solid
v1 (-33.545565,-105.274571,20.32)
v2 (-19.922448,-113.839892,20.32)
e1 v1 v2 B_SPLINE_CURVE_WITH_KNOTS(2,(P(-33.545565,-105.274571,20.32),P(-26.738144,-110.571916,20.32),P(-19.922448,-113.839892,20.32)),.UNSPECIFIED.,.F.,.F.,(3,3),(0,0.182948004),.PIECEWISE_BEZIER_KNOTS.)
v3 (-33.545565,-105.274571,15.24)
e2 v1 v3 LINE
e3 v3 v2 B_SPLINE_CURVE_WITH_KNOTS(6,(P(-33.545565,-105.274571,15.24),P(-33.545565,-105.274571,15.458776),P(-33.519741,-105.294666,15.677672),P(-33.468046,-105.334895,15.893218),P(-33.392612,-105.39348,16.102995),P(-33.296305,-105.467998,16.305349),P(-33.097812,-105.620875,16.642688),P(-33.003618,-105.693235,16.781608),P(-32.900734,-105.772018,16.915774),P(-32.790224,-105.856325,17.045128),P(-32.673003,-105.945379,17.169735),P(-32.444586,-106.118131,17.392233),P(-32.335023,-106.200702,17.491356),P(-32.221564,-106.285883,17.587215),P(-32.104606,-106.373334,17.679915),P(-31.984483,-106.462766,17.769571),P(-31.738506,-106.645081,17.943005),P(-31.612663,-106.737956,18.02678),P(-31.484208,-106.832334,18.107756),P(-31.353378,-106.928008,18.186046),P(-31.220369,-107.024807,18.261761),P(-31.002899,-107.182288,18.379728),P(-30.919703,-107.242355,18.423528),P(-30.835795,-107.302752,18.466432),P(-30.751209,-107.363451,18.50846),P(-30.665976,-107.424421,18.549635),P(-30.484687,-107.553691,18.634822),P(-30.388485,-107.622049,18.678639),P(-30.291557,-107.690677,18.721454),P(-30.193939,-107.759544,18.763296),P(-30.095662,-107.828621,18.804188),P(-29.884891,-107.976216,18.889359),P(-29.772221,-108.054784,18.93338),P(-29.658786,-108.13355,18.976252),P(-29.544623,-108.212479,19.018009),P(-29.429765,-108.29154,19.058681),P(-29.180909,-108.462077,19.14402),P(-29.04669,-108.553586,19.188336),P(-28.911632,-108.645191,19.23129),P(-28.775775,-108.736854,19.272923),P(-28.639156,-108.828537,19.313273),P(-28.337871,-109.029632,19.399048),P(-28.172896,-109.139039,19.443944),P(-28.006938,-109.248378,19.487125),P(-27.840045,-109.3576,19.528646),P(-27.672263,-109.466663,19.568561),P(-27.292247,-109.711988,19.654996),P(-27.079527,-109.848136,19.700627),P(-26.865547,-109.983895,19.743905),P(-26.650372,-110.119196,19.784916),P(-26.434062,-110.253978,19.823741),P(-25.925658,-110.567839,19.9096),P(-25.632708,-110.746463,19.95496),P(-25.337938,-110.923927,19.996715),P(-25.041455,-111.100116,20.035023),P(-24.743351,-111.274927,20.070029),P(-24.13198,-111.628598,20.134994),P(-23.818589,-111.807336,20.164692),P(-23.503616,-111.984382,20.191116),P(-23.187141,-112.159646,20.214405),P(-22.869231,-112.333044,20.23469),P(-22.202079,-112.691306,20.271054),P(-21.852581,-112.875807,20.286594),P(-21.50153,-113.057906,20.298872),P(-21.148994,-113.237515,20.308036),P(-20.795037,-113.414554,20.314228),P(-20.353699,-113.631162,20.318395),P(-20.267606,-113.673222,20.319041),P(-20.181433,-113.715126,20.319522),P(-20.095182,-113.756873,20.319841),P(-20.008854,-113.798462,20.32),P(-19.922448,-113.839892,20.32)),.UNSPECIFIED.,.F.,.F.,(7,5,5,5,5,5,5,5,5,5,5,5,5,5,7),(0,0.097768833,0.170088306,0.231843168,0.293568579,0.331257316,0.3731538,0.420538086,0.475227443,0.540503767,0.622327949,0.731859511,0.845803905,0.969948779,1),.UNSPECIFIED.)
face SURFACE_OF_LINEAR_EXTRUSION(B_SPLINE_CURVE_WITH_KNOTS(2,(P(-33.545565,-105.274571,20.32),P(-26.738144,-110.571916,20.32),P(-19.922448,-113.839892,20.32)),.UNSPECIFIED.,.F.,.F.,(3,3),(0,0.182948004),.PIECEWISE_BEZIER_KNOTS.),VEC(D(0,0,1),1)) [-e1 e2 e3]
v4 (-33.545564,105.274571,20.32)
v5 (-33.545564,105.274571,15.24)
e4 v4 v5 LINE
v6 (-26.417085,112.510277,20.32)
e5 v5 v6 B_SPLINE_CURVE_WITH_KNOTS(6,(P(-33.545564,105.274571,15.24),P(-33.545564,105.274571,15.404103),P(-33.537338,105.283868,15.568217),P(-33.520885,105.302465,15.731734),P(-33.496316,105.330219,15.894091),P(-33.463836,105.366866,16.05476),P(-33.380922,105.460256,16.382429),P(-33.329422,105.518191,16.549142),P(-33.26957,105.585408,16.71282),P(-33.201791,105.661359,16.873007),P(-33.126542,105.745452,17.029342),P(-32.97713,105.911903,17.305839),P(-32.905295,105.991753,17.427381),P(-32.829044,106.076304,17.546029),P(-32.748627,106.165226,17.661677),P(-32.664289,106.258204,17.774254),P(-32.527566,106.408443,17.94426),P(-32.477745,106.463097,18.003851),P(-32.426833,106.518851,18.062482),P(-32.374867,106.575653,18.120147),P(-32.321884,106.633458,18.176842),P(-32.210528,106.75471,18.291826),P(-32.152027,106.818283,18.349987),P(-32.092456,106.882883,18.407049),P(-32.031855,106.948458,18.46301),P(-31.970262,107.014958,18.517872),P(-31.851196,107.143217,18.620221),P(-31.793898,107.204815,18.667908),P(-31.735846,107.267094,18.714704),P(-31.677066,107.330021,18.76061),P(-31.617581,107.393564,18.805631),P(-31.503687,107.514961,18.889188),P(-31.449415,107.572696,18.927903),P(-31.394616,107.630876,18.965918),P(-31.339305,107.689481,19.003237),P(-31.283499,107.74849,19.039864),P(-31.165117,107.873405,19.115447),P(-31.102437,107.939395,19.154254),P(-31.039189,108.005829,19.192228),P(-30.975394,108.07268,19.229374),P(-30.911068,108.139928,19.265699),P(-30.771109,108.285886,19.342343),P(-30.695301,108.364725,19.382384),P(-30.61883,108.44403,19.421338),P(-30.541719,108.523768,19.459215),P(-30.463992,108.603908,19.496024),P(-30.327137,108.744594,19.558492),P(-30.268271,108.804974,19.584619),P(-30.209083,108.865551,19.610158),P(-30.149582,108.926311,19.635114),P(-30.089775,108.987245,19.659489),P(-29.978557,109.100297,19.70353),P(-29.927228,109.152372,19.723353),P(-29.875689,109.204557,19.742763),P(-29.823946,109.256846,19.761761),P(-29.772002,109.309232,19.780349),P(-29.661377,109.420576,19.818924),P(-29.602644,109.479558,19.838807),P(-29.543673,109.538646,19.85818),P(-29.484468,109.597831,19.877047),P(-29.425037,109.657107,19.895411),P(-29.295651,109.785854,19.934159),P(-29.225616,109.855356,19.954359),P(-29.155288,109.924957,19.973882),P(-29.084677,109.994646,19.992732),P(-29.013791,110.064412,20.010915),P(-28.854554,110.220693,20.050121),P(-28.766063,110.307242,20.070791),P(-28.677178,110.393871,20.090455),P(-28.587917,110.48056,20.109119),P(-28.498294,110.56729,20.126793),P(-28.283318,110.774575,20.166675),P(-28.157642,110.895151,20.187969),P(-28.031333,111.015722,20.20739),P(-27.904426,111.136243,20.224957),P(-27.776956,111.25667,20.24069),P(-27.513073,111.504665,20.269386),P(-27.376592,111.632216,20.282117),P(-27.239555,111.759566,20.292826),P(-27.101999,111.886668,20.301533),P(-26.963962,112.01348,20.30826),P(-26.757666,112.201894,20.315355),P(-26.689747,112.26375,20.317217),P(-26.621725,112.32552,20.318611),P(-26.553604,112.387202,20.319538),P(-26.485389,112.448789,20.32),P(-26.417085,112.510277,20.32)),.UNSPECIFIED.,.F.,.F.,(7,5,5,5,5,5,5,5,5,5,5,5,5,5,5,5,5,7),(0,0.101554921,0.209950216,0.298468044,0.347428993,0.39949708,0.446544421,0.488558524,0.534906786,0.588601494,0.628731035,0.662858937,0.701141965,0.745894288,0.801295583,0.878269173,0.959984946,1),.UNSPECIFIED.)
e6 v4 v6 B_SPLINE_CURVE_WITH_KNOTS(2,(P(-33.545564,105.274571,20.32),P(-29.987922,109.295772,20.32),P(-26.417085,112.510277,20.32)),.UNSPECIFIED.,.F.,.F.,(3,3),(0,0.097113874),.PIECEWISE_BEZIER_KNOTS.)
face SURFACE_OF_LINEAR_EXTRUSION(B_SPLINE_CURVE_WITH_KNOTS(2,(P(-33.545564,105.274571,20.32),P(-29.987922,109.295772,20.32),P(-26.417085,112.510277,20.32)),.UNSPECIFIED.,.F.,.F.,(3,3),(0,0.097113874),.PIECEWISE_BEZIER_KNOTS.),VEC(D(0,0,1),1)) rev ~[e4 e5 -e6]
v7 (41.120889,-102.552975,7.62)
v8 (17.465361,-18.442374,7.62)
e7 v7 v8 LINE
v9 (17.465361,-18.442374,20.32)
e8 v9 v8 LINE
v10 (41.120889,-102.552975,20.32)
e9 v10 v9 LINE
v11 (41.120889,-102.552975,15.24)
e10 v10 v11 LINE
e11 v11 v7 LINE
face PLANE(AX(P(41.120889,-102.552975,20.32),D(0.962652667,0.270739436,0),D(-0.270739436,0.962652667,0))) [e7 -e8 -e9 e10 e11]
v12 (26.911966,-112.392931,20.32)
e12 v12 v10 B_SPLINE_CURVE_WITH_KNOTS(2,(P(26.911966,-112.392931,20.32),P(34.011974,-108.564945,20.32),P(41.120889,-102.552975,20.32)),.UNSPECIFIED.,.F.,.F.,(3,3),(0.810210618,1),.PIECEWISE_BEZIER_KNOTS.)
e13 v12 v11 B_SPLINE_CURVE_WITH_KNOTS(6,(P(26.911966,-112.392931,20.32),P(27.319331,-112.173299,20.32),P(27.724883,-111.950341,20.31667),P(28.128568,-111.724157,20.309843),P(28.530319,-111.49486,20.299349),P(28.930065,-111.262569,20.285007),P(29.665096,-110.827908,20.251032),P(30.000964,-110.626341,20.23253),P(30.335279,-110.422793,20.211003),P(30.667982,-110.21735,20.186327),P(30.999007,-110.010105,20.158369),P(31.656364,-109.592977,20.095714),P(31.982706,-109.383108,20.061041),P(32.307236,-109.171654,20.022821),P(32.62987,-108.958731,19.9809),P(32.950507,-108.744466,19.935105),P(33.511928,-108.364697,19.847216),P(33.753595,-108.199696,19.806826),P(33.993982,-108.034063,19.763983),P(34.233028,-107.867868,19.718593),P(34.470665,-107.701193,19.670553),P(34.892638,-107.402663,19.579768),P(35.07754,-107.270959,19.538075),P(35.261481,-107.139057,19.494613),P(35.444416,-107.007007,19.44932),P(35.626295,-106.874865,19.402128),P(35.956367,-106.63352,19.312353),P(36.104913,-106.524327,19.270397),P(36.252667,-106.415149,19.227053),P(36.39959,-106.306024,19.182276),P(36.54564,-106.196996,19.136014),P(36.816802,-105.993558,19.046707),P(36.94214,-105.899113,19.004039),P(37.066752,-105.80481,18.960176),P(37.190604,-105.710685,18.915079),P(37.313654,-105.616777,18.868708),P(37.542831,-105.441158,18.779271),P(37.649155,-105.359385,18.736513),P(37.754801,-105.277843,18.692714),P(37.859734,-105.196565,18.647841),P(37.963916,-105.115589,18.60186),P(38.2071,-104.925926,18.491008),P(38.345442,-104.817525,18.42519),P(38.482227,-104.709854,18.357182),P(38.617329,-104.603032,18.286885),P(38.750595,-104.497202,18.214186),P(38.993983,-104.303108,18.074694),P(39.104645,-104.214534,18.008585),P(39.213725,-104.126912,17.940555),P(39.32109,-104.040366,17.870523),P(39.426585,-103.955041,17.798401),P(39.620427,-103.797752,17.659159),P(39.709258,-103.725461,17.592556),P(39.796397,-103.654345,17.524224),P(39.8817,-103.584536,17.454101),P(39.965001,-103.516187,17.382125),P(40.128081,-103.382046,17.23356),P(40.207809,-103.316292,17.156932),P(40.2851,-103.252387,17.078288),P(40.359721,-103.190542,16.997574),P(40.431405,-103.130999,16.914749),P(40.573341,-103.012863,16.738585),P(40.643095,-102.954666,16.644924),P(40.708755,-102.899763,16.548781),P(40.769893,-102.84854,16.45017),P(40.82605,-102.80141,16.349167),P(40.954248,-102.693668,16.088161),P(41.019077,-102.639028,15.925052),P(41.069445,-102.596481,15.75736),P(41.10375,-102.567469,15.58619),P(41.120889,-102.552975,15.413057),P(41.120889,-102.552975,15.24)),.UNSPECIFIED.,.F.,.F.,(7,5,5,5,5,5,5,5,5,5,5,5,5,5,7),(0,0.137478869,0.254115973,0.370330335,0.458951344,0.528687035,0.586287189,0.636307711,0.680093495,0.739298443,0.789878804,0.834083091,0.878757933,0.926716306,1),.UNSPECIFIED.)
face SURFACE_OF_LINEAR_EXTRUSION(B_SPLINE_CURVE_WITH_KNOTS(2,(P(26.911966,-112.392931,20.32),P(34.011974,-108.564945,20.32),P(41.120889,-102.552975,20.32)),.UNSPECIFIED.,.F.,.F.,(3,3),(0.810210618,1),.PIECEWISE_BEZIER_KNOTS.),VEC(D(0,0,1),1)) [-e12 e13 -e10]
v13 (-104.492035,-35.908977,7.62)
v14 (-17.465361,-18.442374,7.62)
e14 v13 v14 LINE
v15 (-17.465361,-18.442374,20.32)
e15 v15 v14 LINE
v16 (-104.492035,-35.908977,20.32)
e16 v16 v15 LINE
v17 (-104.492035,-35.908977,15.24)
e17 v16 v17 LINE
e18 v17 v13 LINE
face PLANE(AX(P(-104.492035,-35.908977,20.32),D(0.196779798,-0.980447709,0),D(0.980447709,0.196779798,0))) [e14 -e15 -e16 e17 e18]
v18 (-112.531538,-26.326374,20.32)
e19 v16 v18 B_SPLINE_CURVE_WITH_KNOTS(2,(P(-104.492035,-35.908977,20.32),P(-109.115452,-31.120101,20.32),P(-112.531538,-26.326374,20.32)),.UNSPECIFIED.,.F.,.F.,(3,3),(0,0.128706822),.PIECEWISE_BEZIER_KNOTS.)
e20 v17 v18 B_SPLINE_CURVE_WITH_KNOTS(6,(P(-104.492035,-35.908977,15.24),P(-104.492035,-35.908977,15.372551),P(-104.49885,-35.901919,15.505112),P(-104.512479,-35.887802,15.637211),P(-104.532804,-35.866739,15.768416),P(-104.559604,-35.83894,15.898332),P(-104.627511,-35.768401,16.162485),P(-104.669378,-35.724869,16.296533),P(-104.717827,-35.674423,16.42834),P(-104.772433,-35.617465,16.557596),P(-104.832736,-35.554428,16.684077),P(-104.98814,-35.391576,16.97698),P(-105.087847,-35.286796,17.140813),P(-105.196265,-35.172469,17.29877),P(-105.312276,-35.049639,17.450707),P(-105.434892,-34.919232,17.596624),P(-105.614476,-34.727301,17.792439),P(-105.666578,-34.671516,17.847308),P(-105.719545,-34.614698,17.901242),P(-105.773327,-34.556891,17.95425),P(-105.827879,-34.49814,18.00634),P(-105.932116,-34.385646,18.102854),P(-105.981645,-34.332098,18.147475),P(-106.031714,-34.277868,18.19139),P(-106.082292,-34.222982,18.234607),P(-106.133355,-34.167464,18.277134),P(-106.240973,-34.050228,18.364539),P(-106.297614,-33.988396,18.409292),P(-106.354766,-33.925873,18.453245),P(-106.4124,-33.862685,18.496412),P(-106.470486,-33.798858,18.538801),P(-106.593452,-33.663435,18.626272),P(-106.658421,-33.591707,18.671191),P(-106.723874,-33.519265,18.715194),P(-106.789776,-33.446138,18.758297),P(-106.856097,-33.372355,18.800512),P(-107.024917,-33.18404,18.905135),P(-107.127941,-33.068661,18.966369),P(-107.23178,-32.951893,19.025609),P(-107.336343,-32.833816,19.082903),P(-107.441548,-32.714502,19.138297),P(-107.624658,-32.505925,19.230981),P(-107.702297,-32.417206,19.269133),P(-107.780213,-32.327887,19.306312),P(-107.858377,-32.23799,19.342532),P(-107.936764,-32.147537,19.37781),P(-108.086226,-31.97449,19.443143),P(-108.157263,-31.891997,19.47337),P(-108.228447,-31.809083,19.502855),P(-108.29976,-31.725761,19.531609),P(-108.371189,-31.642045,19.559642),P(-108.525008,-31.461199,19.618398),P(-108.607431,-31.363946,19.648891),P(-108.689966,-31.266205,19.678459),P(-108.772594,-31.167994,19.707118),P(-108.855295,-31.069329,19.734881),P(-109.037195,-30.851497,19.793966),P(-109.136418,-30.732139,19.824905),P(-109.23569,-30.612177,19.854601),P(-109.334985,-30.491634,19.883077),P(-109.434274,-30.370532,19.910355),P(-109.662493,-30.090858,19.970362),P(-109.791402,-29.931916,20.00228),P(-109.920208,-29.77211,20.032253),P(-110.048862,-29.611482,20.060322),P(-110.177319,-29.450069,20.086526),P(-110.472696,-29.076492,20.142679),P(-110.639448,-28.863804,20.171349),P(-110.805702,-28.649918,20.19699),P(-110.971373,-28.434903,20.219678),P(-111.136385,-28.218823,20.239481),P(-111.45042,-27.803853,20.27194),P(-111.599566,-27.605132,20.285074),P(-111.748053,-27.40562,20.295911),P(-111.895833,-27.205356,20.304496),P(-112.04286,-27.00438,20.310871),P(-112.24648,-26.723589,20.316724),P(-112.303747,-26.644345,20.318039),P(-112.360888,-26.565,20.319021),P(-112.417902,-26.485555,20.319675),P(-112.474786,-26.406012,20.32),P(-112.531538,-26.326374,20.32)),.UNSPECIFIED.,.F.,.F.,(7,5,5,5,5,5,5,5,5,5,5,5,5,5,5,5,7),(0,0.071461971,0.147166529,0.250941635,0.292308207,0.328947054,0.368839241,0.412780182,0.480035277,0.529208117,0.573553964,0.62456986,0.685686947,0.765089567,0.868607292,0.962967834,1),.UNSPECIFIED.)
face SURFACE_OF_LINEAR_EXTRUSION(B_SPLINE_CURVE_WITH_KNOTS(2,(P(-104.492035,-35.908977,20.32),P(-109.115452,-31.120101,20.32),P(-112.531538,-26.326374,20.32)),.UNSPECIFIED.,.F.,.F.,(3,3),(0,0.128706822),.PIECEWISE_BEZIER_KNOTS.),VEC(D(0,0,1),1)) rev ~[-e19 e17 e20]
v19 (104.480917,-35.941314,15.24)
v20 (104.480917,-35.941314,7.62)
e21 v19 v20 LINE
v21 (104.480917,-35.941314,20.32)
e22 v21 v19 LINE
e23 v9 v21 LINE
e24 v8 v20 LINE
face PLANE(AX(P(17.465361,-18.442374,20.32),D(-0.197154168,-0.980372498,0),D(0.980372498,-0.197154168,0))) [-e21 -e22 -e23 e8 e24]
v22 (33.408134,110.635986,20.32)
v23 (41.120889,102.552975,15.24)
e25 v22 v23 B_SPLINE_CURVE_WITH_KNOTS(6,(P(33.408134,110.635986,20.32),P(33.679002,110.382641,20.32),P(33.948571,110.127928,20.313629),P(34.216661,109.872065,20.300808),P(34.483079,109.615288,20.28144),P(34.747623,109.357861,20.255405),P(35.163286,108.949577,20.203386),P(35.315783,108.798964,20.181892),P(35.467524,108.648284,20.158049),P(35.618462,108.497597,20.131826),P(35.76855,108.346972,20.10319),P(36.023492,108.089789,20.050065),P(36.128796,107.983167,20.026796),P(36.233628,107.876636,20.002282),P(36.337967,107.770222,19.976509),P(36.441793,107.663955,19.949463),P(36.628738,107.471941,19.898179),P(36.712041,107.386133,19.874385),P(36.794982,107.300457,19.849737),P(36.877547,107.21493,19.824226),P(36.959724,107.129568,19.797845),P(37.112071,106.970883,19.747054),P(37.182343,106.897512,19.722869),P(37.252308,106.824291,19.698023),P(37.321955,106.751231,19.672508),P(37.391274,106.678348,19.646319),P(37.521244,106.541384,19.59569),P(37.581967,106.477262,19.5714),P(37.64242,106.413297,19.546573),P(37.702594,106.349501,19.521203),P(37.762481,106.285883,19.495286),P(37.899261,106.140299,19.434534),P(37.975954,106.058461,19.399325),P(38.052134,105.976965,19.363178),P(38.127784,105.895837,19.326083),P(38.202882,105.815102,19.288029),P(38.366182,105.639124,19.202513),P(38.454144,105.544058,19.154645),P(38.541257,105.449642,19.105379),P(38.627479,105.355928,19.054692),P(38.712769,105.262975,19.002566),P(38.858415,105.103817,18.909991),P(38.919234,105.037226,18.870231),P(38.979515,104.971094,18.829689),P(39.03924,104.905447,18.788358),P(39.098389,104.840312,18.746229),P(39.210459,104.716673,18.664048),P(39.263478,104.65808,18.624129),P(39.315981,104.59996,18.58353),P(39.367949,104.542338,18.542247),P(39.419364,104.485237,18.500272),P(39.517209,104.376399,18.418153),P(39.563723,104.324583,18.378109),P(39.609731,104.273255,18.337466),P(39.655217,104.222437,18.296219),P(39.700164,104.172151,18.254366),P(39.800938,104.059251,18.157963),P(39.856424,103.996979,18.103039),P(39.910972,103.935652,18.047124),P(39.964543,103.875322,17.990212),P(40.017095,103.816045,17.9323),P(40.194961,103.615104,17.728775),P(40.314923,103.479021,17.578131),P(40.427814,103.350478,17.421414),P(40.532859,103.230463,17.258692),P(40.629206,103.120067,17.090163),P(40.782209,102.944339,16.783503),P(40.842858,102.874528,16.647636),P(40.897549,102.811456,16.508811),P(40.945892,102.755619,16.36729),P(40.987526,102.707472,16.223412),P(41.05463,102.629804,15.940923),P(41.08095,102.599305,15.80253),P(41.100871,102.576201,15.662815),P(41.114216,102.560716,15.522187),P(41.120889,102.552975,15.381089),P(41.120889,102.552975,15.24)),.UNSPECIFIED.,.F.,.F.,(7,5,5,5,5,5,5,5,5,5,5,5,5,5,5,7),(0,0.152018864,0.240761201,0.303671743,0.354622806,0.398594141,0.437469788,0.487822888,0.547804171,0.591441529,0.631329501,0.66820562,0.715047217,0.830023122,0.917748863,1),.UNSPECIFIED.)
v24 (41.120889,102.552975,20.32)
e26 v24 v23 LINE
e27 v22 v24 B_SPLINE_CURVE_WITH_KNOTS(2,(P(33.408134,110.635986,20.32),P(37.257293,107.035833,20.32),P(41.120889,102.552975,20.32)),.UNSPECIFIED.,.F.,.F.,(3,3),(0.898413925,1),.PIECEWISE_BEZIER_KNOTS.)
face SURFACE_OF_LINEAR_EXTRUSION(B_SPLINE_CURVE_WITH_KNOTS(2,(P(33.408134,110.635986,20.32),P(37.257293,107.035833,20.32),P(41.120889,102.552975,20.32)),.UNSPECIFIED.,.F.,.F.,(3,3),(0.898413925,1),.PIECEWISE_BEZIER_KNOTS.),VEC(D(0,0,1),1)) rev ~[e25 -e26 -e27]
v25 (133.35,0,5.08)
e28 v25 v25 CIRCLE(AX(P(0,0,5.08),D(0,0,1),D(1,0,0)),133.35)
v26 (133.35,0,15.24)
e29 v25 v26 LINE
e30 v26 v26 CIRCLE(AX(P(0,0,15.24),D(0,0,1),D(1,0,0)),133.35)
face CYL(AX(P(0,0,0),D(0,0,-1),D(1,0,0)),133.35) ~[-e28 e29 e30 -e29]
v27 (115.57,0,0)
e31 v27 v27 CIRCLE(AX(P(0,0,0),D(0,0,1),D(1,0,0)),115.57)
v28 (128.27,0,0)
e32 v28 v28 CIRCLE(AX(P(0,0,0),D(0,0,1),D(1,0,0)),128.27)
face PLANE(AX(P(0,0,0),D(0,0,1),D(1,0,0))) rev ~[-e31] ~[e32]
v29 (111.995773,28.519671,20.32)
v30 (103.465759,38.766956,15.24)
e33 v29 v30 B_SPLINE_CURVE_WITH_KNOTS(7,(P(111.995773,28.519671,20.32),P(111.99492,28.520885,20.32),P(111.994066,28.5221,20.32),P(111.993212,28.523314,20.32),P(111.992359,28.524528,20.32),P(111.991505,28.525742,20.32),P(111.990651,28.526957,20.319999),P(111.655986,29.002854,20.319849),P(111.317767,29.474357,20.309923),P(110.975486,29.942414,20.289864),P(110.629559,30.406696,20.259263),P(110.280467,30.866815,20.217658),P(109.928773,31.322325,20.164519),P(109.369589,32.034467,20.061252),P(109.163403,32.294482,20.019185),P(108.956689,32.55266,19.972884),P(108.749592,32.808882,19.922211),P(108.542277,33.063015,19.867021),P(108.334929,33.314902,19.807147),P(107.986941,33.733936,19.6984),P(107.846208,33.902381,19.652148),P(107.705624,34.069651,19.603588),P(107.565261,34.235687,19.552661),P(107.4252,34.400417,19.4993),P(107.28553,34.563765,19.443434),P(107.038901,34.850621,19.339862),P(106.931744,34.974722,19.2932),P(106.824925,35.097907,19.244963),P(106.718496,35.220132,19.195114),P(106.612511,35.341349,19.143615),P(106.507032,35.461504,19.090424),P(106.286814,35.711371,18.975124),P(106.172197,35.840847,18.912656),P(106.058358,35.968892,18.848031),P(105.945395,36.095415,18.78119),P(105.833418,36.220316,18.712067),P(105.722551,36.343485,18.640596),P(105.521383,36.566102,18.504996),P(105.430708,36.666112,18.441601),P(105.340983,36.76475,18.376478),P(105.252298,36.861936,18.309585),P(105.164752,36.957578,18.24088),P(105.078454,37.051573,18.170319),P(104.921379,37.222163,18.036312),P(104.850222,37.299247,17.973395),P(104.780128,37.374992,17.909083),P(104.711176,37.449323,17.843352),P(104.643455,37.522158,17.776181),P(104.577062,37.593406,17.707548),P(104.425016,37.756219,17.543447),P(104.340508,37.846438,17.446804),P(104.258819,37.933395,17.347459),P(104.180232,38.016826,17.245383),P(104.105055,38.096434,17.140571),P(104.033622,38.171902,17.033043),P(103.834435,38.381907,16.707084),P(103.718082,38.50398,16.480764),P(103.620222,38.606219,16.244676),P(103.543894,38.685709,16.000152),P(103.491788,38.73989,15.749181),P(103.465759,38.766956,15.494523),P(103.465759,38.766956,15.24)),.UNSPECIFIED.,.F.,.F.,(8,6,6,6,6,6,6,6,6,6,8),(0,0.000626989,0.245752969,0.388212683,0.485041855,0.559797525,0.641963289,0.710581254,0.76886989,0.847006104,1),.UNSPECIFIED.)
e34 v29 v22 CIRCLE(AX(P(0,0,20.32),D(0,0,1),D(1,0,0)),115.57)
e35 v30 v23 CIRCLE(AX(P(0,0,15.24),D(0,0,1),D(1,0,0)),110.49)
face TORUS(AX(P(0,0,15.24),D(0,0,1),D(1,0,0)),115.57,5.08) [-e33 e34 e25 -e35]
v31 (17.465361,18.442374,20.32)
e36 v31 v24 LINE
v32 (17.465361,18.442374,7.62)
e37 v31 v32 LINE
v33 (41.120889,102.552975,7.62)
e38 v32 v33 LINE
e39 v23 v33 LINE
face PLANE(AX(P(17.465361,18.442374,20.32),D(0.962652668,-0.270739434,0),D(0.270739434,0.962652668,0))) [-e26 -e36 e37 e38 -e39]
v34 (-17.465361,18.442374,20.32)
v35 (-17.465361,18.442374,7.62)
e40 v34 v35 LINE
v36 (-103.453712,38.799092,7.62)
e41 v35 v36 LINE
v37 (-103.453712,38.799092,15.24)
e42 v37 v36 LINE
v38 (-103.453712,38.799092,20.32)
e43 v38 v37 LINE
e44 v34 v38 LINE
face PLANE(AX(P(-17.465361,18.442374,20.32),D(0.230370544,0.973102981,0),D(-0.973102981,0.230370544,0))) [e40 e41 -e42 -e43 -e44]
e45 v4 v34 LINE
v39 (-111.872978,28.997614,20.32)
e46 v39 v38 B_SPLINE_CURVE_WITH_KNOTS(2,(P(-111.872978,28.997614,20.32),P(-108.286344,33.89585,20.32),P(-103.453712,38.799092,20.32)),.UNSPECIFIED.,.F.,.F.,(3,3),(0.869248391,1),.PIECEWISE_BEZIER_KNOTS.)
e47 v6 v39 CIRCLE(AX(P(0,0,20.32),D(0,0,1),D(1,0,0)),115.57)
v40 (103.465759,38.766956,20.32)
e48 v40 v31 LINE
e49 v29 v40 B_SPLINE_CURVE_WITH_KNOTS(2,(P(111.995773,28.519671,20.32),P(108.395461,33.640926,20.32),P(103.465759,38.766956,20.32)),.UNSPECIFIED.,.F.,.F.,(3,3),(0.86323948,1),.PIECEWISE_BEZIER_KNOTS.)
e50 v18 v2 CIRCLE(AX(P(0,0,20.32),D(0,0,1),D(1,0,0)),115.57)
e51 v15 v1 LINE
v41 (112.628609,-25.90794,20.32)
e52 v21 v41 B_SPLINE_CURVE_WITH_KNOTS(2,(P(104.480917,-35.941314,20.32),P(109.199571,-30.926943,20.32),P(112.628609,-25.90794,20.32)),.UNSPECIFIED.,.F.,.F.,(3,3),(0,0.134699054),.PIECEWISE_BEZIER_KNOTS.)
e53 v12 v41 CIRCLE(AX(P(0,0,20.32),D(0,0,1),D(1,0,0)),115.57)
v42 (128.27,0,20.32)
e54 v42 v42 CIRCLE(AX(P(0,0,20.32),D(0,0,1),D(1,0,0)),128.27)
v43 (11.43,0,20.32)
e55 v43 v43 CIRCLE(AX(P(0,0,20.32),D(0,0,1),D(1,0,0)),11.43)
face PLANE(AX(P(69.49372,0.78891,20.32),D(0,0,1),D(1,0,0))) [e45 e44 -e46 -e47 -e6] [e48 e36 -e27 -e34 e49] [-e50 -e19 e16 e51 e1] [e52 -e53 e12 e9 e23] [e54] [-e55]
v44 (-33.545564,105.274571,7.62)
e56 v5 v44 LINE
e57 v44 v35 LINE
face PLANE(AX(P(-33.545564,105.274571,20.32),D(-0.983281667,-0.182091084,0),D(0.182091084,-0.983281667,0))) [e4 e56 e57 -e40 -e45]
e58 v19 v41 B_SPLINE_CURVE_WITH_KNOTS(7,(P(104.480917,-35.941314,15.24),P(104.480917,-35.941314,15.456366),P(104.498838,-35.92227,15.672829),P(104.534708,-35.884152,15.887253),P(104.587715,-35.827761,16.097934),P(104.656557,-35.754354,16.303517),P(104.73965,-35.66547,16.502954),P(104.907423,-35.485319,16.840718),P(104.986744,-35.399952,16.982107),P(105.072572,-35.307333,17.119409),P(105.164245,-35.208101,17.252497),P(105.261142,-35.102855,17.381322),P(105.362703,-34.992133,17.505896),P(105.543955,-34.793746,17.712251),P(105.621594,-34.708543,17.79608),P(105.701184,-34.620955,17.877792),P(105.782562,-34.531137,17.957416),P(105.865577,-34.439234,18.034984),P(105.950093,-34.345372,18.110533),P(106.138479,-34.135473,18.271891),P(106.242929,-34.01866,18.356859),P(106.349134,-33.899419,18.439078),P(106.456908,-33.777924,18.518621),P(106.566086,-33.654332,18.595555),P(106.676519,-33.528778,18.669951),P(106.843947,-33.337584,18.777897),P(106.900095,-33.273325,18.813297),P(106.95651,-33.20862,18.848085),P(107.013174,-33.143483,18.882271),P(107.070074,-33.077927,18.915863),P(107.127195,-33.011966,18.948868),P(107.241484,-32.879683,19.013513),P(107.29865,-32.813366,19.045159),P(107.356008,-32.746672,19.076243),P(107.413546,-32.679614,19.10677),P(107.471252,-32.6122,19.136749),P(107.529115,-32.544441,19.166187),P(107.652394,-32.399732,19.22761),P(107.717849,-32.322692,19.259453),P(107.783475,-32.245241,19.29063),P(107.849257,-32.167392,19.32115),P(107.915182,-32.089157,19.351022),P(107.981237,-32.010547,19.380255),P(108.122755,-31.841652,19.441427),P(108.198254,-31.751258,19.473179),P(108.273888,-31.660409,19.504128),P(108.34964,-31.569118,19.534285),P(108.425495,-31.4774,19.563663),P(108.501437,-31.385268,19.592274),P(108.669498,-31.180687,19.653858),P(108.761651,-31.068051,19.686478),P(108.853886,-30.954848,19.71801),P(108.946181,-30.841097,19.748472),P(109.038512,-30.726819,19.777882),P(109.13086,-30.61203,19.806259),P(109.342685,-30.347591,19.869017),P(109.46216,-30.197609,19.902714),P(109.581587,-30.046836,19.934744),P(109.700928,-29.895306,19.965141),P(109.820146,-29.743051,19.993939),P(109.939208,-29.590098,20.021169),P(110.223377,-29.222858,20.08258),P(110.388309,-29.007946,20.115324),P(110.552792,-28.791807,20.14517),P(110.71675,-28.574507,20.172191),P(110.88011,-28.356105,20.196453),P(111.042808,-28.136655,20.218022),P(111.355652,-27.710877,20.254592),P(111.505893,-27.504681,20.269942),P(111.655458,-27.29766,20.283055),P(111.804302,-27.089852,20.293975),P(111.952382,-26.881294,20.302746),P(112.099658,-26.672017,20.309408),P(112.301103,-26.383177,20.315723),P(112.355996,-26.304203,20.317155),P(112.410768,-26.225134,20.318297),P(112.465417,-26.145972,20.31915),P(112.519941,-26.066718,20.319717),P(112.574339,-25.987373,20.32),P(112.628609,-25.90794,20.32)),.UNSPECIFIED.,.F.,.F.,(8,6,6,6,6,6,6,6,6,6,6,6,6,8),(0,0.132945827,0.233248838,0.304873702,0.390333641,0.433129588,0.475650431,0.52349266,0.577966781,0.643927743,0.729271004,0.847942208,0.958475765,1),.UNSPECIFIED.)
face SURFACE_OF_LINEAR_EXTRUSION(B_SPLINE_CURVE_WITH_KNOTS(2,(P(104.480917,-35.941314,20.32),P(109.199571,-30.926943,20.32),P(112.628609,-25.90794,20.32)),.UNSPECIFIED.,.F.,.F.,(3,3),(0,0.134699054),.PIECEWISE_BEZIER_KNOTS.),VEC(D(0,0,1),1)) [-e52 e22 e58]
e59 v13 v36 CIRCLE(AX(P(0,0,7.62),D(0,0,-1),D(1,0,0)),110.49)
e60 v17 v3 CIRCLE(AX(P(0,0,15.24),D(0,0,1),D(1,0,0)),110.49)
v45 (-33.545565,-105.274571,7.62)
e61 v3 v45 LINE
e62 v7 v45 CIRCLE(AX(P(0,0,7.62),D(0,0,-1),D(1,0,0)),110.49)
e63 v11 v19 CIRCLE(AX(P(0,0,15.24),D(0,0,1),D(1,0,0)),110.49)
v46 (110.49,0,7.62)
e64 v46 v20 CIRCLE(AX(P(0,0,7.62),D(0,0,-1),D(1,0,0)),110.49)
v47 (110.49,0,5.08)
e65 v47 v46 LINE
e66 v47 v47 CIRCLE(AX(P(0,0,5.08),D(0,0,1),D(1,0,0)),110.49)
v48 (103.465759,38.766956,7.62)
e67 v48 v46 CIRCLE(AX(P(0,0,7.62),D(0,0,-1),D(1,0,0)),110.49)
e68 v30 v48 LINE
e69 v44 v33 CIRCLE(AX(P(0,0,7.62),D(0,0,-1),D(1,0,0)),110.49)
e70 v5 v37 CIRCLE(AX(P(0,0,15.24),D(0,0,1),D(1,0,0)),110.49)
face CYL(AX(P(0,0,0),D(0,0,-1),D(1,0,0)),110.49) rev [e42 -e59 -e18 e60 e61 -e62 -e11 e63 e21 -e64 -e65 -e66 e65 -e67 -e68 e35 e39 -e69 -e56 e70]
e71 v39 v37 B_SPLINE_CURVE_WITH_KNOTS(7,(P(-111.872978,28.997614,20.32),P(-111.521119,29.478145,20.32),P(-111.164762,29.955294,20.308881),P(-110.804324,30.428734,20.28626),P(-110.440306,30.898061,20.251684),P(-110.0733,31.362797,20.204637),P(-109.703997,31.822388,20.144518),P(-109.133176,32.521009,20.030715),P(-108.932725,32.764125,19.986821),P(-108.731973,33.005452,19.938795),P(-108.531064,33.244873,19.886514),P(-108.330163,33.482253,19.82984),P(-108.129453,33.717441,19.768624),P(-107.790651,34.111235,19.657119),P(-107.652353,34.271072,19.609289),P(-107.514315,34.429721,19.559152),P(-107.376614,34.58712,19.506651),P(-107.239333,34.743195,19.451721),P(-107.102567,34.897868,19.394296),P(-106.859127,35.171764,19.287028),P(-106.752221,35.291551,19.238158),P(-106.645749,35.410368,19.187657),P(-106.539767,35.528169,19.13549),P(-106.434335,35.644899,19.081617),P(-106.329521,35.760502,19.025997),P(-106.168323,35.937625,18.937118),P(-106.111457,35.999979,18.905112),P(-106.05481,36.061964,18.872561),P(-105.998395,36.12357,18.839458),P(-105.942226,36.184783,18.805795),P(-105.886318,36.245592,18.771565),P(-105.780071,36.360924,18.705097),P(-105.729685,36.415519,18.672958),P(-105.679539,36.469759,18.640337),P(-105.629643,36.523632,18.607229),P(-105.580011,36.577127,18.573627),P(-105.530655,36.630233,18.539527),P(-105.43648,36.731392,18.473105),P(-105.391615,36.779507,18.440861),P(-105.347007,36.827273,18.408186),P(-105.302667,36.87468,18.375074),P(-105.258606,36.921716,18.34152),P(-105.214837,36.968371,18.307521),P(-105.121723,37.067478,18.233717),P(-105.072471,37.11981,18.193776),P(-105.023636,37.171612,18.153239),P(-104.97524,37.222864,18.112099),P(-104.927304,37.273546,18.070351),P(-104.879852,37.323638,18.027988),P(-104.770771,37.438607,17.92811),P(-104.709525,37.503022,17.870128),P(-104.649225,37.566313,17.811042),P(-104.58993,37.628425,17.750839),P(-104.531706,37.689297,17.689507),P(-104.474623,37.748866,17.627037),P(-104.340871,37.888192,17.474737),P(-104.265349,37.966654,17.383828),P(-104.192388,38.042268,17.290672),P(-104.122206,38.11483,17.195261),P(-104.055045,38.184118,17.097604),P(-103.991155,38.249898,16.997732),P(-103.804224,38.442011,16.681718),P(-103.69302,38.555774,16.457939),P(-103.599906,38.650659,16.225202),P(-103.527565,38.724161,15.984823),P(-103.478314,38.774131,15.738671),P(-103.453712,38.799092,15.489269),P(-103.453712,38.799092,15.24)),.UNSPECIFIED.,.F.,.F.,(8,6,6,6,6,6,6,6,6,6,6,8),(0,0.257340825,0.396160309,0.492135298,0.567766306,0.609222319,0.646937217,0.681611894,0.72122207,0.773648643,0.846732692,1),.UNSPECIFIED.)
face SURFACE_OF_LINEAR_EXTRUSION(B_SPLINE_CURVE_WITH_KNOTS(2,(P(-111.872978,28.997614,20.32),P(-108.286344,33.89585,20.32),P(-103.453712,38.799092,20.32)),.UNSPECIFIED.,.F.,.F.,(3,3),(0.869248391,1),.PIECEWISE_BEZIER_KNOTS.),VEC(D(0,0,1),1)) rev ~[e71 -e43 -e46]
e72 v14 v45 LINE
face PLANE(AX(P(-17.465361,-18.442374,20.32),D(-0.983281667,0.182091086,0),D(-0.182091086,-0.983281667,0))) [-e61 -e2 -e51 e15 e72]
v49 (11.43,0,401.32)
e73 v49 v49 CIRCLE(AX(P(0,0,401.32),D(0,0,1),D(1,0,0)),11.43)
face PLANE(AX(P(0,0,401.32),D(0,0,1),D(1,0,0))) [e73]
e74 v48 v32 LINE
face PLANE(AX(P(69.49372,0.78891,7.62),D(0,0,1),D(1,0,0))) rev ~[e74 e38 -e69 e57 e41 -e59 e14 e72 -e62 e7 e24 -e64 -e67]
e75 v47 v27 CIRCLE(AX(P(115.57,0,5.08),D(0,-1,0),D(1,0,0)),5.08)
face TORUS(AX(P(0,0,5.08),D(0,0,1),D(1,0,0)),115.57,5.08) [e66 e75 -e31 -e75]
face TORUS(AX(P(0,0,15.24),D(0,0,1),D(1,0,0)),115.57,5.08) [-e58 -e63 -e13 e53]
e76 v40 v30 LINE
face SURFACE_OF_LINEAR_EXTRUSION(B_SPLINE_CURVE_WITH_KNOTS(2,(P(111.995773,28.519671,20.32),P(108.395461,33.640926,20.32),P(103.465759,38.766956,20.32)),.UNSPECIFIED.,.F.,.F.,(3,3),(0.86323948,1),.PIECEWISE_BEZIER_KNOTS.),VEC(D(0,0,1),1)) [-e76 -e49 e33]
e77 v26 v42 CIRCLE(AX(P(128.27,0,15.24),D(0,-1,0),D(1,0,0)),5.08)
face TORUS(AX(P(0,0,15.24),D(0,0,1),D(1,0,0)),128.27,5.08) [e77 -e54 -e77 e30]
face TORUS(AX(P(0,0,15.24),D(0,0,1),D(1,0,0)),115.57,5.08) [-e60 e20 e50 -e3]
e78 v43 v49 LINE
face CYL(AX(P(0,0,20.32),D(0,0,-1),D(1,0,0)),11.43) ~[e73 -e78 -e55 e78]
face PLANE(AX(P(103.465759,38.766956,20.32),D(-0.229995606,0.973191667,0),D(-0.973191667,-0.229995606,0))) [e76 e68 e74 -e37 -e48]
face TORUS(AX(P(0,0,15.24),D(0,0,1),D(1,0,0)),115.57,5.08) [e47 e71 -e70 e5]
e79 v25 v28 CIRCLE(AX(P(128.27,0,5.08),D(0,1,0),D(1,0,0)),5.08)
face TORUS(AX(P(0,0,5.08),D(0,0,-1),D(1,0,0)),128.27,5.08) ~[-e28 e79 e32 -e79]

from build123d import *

# Parameters (mm, degrees)
SKETCH1_R           = 133.35
SKETCH1_R_2         = 110.49
BOSS_EXTRUDE1_DEPTH = 20.32
FILLET1_R           = 5.08
FILLET4_R           = 5.08
FILLET5_R           = 5.08
FILLET6_R           = 5.08
SKETCH2_R           = 25.4
BOSS_EXTRUDE2_DEPTH = 12.7
SKETCH3_R           = 11.43
BOSS_EXTRUDE3_DEPTH = 381


with BuildPart() as part:
    # Sketch1 → Boss-Extrude1 (new body)
    with BuildSketch(Plane.XY):
        Circle(SKETCH1_R)
        Circle(SKETCH1_R_2, mode=Mode.SUBTRACT)
    extrude(amount=BOSS_EXTRUDE1_DEPTH)

    # Fillet1
    fillet1_edges = [part.edges().sort_by_distance(p)[0] for p in [
        (-133.35, 0, 20.32),
    ]]
    fillet(fillet1_edges, radius=FILLET1_R)

    # Fillet4
    fillet4_edges = [part.edges().sort_by_distance(p)[0] for p in [
        (-133.35, 0, 0),
    ]]
    fillet(fillet4_edges, radius=FILLET4_R)

    # Fillet5
    fillet5_edges = [part.edges().sort_by_distance(p)[0] for p in [
        (-110.49, 0, 20.32),
    ]]
    fillet(fillet5_edges, radius=FILLET5_R)

    # Fillet6
    fillet6_edges = [part.edges().sort_by_distance(p)[0] for p in [
        (-110.49, 0, 0),
    ]]
    fillet(fillet6_edges, radius=FILLET6_R)



with BuildPart() as body_2:
    # Sketch2 → Boss-Extrude2 (new body)
    with BuildSketch(Plane.XY.offset(20.32)):
        with BuildLine():
            add(Edge.make_bspline(
                [(111.995773379, 28.519671196), (108.395461325, 33.640925655), (103.465758881, 38.766955506)],
                knots=[0.86323948, 0.86323948, 0.86323948, 1, 1, 1], degree=2))
            Line((103.465758881, 38.766955506), (17.465361403, 18.442373791))
            ThreePointArc((17.465361403, 18.442373791), (23.332168562, 10.038421698), (25.4, 0))
            ThreePointArc((25.4, 0), (23.332168562, -10.038421698), (17.465361403, -18.442373791))
            Line((17.465361403, -18.442373791), (104.480917214, -35.941313806))
            add(Edge.make_bspline(
                [(104.480917214, -35.941313806), (109.199570697, -30.926942984), (112.628608991, -25.907939648)],
                knots=[0, 0, 0, 0.134699054, 0.134699054, 0.134699054], degree=2))
            ThreePointArc((112.628608991, -25.907939648), (114.832297811, -13.037188327), (115.57, 0))
            ThreePointArc((115.57, 0), (114.672962004, 14.37138425), (111.995773379, 28.519671196))
        make_face()
        with BuildLine():
            ThreePointArc((-17.465361403, 18.442373791), (0, 25.4), (17.465361403, 18.442373791))
            Line((17.465361403, 18.442373791), (41.120888712, 102.55297466))
            add(Edge.make_bspline(
                [(33.408134269, 110.6359863), (37.257292789, 107.035833442), (41.120888712, 102.55297466)],
                knots=[0.898413925, 0.898413925, 0.898413925, 1, 1, 1], degree=2))
            ThreePointArc((33.408134269, 110.6359863), (3.618968694, 115.513323758), (-26.417084957, 112.510277408))
            add(Edge.make_bspline(
                [(-33.5455644, 105.274570572), (-29.987921782, 109.295772293), (-26.417084957, 112.510277408)],
                knots=[0, 0, 0, 0.097113874, 0.097113874, 0.097113874], degree=2))
            Line((-33.5455644, 105.274570572), (-17.465361403, 18.442373791))
        make_face()
        with BuildLine():
            Line((41.120888883, -102.552974591), (17.465361403, -18.442373791))
            ThreePointArc((17.465361403, -18.442373791), (0, -25.4), (-17.465361403, -18.442373791))
            Line((-17.465361403, -18.442373791), (-33.545564575, -105.274570516))
            add(Edge.make_bspline(
                [(-33.545564575, -105.274570516), (-26.738144431, -110.571915765), (-19.922448027, -113.839891798)],
                knots=[0, 0, 0, 0.182948004, 0.182948004, 0.182948004], degree=2))
            ThreePointArc((-19.922448027, -113.839891798), (3.568860133, -115.514882753), (26.911965601, -112.392931306))
            add(Edge.make_bspline(
                [(26.911965601, -112.392931306), (34.011973832, -108.564945177), (41.120888883, -102.552974591)],
                knots=[0.810210618, 0.810210618, 0.810210618, 1, 1, 1], degree=2))
        make_face()
        with BuildLine():
            ThreePointArc((-17.465361403, -18.442373791), (-25.4, 0), (-17.465361403, 18.442373791))
            Line((-17.465361403, 18.442373791), (-103.453712161, 38.799092001))
            add(Edge.make_bspline(
                [(-111.872978372, 28.997613871), (-108.286344087, 33.895850119), (-103.453712161, 38.799092001)],
                knots=[0.869248391, 0.869248391, 0.869248391, 1, 1, 1], degree=2))
            ThreePointArc((-111.872978372, 28.997613871), (-115.56181287, 1.375611191), (-112.531537583, -26.326373643))
            add(Edge.make_bspline(
                [(-104.492035357, -35.908977246), (-109.115451856, -31.120100592), (-112.531537583, -26.326373643)],
                knots=[0, 0, 0, 0.128706822, 0.128706822, 0.128706822], degree=2))
            Line((-104.492035357, -35.908977246), (-17.465361403, -18.442373791))
        make_face()
        Circle(SKETCH2_R)
    extrude(amount=-BOSS_EXTRUDE2_DEPTH)


with BuildPart() as part_1:
    add(part.part)

    add(body_2.part)  # Boss-Extrude3 merges body 2
    # Sketch3 → Boss-Extrude3 (add)
    with BuildSketch(Plane.XY.offset(20.32)):
        Circle(SKETCH3_R)
    extrude(amount=BOSS_EXTRUDE3_DEPTH)


solid = part_1.part
